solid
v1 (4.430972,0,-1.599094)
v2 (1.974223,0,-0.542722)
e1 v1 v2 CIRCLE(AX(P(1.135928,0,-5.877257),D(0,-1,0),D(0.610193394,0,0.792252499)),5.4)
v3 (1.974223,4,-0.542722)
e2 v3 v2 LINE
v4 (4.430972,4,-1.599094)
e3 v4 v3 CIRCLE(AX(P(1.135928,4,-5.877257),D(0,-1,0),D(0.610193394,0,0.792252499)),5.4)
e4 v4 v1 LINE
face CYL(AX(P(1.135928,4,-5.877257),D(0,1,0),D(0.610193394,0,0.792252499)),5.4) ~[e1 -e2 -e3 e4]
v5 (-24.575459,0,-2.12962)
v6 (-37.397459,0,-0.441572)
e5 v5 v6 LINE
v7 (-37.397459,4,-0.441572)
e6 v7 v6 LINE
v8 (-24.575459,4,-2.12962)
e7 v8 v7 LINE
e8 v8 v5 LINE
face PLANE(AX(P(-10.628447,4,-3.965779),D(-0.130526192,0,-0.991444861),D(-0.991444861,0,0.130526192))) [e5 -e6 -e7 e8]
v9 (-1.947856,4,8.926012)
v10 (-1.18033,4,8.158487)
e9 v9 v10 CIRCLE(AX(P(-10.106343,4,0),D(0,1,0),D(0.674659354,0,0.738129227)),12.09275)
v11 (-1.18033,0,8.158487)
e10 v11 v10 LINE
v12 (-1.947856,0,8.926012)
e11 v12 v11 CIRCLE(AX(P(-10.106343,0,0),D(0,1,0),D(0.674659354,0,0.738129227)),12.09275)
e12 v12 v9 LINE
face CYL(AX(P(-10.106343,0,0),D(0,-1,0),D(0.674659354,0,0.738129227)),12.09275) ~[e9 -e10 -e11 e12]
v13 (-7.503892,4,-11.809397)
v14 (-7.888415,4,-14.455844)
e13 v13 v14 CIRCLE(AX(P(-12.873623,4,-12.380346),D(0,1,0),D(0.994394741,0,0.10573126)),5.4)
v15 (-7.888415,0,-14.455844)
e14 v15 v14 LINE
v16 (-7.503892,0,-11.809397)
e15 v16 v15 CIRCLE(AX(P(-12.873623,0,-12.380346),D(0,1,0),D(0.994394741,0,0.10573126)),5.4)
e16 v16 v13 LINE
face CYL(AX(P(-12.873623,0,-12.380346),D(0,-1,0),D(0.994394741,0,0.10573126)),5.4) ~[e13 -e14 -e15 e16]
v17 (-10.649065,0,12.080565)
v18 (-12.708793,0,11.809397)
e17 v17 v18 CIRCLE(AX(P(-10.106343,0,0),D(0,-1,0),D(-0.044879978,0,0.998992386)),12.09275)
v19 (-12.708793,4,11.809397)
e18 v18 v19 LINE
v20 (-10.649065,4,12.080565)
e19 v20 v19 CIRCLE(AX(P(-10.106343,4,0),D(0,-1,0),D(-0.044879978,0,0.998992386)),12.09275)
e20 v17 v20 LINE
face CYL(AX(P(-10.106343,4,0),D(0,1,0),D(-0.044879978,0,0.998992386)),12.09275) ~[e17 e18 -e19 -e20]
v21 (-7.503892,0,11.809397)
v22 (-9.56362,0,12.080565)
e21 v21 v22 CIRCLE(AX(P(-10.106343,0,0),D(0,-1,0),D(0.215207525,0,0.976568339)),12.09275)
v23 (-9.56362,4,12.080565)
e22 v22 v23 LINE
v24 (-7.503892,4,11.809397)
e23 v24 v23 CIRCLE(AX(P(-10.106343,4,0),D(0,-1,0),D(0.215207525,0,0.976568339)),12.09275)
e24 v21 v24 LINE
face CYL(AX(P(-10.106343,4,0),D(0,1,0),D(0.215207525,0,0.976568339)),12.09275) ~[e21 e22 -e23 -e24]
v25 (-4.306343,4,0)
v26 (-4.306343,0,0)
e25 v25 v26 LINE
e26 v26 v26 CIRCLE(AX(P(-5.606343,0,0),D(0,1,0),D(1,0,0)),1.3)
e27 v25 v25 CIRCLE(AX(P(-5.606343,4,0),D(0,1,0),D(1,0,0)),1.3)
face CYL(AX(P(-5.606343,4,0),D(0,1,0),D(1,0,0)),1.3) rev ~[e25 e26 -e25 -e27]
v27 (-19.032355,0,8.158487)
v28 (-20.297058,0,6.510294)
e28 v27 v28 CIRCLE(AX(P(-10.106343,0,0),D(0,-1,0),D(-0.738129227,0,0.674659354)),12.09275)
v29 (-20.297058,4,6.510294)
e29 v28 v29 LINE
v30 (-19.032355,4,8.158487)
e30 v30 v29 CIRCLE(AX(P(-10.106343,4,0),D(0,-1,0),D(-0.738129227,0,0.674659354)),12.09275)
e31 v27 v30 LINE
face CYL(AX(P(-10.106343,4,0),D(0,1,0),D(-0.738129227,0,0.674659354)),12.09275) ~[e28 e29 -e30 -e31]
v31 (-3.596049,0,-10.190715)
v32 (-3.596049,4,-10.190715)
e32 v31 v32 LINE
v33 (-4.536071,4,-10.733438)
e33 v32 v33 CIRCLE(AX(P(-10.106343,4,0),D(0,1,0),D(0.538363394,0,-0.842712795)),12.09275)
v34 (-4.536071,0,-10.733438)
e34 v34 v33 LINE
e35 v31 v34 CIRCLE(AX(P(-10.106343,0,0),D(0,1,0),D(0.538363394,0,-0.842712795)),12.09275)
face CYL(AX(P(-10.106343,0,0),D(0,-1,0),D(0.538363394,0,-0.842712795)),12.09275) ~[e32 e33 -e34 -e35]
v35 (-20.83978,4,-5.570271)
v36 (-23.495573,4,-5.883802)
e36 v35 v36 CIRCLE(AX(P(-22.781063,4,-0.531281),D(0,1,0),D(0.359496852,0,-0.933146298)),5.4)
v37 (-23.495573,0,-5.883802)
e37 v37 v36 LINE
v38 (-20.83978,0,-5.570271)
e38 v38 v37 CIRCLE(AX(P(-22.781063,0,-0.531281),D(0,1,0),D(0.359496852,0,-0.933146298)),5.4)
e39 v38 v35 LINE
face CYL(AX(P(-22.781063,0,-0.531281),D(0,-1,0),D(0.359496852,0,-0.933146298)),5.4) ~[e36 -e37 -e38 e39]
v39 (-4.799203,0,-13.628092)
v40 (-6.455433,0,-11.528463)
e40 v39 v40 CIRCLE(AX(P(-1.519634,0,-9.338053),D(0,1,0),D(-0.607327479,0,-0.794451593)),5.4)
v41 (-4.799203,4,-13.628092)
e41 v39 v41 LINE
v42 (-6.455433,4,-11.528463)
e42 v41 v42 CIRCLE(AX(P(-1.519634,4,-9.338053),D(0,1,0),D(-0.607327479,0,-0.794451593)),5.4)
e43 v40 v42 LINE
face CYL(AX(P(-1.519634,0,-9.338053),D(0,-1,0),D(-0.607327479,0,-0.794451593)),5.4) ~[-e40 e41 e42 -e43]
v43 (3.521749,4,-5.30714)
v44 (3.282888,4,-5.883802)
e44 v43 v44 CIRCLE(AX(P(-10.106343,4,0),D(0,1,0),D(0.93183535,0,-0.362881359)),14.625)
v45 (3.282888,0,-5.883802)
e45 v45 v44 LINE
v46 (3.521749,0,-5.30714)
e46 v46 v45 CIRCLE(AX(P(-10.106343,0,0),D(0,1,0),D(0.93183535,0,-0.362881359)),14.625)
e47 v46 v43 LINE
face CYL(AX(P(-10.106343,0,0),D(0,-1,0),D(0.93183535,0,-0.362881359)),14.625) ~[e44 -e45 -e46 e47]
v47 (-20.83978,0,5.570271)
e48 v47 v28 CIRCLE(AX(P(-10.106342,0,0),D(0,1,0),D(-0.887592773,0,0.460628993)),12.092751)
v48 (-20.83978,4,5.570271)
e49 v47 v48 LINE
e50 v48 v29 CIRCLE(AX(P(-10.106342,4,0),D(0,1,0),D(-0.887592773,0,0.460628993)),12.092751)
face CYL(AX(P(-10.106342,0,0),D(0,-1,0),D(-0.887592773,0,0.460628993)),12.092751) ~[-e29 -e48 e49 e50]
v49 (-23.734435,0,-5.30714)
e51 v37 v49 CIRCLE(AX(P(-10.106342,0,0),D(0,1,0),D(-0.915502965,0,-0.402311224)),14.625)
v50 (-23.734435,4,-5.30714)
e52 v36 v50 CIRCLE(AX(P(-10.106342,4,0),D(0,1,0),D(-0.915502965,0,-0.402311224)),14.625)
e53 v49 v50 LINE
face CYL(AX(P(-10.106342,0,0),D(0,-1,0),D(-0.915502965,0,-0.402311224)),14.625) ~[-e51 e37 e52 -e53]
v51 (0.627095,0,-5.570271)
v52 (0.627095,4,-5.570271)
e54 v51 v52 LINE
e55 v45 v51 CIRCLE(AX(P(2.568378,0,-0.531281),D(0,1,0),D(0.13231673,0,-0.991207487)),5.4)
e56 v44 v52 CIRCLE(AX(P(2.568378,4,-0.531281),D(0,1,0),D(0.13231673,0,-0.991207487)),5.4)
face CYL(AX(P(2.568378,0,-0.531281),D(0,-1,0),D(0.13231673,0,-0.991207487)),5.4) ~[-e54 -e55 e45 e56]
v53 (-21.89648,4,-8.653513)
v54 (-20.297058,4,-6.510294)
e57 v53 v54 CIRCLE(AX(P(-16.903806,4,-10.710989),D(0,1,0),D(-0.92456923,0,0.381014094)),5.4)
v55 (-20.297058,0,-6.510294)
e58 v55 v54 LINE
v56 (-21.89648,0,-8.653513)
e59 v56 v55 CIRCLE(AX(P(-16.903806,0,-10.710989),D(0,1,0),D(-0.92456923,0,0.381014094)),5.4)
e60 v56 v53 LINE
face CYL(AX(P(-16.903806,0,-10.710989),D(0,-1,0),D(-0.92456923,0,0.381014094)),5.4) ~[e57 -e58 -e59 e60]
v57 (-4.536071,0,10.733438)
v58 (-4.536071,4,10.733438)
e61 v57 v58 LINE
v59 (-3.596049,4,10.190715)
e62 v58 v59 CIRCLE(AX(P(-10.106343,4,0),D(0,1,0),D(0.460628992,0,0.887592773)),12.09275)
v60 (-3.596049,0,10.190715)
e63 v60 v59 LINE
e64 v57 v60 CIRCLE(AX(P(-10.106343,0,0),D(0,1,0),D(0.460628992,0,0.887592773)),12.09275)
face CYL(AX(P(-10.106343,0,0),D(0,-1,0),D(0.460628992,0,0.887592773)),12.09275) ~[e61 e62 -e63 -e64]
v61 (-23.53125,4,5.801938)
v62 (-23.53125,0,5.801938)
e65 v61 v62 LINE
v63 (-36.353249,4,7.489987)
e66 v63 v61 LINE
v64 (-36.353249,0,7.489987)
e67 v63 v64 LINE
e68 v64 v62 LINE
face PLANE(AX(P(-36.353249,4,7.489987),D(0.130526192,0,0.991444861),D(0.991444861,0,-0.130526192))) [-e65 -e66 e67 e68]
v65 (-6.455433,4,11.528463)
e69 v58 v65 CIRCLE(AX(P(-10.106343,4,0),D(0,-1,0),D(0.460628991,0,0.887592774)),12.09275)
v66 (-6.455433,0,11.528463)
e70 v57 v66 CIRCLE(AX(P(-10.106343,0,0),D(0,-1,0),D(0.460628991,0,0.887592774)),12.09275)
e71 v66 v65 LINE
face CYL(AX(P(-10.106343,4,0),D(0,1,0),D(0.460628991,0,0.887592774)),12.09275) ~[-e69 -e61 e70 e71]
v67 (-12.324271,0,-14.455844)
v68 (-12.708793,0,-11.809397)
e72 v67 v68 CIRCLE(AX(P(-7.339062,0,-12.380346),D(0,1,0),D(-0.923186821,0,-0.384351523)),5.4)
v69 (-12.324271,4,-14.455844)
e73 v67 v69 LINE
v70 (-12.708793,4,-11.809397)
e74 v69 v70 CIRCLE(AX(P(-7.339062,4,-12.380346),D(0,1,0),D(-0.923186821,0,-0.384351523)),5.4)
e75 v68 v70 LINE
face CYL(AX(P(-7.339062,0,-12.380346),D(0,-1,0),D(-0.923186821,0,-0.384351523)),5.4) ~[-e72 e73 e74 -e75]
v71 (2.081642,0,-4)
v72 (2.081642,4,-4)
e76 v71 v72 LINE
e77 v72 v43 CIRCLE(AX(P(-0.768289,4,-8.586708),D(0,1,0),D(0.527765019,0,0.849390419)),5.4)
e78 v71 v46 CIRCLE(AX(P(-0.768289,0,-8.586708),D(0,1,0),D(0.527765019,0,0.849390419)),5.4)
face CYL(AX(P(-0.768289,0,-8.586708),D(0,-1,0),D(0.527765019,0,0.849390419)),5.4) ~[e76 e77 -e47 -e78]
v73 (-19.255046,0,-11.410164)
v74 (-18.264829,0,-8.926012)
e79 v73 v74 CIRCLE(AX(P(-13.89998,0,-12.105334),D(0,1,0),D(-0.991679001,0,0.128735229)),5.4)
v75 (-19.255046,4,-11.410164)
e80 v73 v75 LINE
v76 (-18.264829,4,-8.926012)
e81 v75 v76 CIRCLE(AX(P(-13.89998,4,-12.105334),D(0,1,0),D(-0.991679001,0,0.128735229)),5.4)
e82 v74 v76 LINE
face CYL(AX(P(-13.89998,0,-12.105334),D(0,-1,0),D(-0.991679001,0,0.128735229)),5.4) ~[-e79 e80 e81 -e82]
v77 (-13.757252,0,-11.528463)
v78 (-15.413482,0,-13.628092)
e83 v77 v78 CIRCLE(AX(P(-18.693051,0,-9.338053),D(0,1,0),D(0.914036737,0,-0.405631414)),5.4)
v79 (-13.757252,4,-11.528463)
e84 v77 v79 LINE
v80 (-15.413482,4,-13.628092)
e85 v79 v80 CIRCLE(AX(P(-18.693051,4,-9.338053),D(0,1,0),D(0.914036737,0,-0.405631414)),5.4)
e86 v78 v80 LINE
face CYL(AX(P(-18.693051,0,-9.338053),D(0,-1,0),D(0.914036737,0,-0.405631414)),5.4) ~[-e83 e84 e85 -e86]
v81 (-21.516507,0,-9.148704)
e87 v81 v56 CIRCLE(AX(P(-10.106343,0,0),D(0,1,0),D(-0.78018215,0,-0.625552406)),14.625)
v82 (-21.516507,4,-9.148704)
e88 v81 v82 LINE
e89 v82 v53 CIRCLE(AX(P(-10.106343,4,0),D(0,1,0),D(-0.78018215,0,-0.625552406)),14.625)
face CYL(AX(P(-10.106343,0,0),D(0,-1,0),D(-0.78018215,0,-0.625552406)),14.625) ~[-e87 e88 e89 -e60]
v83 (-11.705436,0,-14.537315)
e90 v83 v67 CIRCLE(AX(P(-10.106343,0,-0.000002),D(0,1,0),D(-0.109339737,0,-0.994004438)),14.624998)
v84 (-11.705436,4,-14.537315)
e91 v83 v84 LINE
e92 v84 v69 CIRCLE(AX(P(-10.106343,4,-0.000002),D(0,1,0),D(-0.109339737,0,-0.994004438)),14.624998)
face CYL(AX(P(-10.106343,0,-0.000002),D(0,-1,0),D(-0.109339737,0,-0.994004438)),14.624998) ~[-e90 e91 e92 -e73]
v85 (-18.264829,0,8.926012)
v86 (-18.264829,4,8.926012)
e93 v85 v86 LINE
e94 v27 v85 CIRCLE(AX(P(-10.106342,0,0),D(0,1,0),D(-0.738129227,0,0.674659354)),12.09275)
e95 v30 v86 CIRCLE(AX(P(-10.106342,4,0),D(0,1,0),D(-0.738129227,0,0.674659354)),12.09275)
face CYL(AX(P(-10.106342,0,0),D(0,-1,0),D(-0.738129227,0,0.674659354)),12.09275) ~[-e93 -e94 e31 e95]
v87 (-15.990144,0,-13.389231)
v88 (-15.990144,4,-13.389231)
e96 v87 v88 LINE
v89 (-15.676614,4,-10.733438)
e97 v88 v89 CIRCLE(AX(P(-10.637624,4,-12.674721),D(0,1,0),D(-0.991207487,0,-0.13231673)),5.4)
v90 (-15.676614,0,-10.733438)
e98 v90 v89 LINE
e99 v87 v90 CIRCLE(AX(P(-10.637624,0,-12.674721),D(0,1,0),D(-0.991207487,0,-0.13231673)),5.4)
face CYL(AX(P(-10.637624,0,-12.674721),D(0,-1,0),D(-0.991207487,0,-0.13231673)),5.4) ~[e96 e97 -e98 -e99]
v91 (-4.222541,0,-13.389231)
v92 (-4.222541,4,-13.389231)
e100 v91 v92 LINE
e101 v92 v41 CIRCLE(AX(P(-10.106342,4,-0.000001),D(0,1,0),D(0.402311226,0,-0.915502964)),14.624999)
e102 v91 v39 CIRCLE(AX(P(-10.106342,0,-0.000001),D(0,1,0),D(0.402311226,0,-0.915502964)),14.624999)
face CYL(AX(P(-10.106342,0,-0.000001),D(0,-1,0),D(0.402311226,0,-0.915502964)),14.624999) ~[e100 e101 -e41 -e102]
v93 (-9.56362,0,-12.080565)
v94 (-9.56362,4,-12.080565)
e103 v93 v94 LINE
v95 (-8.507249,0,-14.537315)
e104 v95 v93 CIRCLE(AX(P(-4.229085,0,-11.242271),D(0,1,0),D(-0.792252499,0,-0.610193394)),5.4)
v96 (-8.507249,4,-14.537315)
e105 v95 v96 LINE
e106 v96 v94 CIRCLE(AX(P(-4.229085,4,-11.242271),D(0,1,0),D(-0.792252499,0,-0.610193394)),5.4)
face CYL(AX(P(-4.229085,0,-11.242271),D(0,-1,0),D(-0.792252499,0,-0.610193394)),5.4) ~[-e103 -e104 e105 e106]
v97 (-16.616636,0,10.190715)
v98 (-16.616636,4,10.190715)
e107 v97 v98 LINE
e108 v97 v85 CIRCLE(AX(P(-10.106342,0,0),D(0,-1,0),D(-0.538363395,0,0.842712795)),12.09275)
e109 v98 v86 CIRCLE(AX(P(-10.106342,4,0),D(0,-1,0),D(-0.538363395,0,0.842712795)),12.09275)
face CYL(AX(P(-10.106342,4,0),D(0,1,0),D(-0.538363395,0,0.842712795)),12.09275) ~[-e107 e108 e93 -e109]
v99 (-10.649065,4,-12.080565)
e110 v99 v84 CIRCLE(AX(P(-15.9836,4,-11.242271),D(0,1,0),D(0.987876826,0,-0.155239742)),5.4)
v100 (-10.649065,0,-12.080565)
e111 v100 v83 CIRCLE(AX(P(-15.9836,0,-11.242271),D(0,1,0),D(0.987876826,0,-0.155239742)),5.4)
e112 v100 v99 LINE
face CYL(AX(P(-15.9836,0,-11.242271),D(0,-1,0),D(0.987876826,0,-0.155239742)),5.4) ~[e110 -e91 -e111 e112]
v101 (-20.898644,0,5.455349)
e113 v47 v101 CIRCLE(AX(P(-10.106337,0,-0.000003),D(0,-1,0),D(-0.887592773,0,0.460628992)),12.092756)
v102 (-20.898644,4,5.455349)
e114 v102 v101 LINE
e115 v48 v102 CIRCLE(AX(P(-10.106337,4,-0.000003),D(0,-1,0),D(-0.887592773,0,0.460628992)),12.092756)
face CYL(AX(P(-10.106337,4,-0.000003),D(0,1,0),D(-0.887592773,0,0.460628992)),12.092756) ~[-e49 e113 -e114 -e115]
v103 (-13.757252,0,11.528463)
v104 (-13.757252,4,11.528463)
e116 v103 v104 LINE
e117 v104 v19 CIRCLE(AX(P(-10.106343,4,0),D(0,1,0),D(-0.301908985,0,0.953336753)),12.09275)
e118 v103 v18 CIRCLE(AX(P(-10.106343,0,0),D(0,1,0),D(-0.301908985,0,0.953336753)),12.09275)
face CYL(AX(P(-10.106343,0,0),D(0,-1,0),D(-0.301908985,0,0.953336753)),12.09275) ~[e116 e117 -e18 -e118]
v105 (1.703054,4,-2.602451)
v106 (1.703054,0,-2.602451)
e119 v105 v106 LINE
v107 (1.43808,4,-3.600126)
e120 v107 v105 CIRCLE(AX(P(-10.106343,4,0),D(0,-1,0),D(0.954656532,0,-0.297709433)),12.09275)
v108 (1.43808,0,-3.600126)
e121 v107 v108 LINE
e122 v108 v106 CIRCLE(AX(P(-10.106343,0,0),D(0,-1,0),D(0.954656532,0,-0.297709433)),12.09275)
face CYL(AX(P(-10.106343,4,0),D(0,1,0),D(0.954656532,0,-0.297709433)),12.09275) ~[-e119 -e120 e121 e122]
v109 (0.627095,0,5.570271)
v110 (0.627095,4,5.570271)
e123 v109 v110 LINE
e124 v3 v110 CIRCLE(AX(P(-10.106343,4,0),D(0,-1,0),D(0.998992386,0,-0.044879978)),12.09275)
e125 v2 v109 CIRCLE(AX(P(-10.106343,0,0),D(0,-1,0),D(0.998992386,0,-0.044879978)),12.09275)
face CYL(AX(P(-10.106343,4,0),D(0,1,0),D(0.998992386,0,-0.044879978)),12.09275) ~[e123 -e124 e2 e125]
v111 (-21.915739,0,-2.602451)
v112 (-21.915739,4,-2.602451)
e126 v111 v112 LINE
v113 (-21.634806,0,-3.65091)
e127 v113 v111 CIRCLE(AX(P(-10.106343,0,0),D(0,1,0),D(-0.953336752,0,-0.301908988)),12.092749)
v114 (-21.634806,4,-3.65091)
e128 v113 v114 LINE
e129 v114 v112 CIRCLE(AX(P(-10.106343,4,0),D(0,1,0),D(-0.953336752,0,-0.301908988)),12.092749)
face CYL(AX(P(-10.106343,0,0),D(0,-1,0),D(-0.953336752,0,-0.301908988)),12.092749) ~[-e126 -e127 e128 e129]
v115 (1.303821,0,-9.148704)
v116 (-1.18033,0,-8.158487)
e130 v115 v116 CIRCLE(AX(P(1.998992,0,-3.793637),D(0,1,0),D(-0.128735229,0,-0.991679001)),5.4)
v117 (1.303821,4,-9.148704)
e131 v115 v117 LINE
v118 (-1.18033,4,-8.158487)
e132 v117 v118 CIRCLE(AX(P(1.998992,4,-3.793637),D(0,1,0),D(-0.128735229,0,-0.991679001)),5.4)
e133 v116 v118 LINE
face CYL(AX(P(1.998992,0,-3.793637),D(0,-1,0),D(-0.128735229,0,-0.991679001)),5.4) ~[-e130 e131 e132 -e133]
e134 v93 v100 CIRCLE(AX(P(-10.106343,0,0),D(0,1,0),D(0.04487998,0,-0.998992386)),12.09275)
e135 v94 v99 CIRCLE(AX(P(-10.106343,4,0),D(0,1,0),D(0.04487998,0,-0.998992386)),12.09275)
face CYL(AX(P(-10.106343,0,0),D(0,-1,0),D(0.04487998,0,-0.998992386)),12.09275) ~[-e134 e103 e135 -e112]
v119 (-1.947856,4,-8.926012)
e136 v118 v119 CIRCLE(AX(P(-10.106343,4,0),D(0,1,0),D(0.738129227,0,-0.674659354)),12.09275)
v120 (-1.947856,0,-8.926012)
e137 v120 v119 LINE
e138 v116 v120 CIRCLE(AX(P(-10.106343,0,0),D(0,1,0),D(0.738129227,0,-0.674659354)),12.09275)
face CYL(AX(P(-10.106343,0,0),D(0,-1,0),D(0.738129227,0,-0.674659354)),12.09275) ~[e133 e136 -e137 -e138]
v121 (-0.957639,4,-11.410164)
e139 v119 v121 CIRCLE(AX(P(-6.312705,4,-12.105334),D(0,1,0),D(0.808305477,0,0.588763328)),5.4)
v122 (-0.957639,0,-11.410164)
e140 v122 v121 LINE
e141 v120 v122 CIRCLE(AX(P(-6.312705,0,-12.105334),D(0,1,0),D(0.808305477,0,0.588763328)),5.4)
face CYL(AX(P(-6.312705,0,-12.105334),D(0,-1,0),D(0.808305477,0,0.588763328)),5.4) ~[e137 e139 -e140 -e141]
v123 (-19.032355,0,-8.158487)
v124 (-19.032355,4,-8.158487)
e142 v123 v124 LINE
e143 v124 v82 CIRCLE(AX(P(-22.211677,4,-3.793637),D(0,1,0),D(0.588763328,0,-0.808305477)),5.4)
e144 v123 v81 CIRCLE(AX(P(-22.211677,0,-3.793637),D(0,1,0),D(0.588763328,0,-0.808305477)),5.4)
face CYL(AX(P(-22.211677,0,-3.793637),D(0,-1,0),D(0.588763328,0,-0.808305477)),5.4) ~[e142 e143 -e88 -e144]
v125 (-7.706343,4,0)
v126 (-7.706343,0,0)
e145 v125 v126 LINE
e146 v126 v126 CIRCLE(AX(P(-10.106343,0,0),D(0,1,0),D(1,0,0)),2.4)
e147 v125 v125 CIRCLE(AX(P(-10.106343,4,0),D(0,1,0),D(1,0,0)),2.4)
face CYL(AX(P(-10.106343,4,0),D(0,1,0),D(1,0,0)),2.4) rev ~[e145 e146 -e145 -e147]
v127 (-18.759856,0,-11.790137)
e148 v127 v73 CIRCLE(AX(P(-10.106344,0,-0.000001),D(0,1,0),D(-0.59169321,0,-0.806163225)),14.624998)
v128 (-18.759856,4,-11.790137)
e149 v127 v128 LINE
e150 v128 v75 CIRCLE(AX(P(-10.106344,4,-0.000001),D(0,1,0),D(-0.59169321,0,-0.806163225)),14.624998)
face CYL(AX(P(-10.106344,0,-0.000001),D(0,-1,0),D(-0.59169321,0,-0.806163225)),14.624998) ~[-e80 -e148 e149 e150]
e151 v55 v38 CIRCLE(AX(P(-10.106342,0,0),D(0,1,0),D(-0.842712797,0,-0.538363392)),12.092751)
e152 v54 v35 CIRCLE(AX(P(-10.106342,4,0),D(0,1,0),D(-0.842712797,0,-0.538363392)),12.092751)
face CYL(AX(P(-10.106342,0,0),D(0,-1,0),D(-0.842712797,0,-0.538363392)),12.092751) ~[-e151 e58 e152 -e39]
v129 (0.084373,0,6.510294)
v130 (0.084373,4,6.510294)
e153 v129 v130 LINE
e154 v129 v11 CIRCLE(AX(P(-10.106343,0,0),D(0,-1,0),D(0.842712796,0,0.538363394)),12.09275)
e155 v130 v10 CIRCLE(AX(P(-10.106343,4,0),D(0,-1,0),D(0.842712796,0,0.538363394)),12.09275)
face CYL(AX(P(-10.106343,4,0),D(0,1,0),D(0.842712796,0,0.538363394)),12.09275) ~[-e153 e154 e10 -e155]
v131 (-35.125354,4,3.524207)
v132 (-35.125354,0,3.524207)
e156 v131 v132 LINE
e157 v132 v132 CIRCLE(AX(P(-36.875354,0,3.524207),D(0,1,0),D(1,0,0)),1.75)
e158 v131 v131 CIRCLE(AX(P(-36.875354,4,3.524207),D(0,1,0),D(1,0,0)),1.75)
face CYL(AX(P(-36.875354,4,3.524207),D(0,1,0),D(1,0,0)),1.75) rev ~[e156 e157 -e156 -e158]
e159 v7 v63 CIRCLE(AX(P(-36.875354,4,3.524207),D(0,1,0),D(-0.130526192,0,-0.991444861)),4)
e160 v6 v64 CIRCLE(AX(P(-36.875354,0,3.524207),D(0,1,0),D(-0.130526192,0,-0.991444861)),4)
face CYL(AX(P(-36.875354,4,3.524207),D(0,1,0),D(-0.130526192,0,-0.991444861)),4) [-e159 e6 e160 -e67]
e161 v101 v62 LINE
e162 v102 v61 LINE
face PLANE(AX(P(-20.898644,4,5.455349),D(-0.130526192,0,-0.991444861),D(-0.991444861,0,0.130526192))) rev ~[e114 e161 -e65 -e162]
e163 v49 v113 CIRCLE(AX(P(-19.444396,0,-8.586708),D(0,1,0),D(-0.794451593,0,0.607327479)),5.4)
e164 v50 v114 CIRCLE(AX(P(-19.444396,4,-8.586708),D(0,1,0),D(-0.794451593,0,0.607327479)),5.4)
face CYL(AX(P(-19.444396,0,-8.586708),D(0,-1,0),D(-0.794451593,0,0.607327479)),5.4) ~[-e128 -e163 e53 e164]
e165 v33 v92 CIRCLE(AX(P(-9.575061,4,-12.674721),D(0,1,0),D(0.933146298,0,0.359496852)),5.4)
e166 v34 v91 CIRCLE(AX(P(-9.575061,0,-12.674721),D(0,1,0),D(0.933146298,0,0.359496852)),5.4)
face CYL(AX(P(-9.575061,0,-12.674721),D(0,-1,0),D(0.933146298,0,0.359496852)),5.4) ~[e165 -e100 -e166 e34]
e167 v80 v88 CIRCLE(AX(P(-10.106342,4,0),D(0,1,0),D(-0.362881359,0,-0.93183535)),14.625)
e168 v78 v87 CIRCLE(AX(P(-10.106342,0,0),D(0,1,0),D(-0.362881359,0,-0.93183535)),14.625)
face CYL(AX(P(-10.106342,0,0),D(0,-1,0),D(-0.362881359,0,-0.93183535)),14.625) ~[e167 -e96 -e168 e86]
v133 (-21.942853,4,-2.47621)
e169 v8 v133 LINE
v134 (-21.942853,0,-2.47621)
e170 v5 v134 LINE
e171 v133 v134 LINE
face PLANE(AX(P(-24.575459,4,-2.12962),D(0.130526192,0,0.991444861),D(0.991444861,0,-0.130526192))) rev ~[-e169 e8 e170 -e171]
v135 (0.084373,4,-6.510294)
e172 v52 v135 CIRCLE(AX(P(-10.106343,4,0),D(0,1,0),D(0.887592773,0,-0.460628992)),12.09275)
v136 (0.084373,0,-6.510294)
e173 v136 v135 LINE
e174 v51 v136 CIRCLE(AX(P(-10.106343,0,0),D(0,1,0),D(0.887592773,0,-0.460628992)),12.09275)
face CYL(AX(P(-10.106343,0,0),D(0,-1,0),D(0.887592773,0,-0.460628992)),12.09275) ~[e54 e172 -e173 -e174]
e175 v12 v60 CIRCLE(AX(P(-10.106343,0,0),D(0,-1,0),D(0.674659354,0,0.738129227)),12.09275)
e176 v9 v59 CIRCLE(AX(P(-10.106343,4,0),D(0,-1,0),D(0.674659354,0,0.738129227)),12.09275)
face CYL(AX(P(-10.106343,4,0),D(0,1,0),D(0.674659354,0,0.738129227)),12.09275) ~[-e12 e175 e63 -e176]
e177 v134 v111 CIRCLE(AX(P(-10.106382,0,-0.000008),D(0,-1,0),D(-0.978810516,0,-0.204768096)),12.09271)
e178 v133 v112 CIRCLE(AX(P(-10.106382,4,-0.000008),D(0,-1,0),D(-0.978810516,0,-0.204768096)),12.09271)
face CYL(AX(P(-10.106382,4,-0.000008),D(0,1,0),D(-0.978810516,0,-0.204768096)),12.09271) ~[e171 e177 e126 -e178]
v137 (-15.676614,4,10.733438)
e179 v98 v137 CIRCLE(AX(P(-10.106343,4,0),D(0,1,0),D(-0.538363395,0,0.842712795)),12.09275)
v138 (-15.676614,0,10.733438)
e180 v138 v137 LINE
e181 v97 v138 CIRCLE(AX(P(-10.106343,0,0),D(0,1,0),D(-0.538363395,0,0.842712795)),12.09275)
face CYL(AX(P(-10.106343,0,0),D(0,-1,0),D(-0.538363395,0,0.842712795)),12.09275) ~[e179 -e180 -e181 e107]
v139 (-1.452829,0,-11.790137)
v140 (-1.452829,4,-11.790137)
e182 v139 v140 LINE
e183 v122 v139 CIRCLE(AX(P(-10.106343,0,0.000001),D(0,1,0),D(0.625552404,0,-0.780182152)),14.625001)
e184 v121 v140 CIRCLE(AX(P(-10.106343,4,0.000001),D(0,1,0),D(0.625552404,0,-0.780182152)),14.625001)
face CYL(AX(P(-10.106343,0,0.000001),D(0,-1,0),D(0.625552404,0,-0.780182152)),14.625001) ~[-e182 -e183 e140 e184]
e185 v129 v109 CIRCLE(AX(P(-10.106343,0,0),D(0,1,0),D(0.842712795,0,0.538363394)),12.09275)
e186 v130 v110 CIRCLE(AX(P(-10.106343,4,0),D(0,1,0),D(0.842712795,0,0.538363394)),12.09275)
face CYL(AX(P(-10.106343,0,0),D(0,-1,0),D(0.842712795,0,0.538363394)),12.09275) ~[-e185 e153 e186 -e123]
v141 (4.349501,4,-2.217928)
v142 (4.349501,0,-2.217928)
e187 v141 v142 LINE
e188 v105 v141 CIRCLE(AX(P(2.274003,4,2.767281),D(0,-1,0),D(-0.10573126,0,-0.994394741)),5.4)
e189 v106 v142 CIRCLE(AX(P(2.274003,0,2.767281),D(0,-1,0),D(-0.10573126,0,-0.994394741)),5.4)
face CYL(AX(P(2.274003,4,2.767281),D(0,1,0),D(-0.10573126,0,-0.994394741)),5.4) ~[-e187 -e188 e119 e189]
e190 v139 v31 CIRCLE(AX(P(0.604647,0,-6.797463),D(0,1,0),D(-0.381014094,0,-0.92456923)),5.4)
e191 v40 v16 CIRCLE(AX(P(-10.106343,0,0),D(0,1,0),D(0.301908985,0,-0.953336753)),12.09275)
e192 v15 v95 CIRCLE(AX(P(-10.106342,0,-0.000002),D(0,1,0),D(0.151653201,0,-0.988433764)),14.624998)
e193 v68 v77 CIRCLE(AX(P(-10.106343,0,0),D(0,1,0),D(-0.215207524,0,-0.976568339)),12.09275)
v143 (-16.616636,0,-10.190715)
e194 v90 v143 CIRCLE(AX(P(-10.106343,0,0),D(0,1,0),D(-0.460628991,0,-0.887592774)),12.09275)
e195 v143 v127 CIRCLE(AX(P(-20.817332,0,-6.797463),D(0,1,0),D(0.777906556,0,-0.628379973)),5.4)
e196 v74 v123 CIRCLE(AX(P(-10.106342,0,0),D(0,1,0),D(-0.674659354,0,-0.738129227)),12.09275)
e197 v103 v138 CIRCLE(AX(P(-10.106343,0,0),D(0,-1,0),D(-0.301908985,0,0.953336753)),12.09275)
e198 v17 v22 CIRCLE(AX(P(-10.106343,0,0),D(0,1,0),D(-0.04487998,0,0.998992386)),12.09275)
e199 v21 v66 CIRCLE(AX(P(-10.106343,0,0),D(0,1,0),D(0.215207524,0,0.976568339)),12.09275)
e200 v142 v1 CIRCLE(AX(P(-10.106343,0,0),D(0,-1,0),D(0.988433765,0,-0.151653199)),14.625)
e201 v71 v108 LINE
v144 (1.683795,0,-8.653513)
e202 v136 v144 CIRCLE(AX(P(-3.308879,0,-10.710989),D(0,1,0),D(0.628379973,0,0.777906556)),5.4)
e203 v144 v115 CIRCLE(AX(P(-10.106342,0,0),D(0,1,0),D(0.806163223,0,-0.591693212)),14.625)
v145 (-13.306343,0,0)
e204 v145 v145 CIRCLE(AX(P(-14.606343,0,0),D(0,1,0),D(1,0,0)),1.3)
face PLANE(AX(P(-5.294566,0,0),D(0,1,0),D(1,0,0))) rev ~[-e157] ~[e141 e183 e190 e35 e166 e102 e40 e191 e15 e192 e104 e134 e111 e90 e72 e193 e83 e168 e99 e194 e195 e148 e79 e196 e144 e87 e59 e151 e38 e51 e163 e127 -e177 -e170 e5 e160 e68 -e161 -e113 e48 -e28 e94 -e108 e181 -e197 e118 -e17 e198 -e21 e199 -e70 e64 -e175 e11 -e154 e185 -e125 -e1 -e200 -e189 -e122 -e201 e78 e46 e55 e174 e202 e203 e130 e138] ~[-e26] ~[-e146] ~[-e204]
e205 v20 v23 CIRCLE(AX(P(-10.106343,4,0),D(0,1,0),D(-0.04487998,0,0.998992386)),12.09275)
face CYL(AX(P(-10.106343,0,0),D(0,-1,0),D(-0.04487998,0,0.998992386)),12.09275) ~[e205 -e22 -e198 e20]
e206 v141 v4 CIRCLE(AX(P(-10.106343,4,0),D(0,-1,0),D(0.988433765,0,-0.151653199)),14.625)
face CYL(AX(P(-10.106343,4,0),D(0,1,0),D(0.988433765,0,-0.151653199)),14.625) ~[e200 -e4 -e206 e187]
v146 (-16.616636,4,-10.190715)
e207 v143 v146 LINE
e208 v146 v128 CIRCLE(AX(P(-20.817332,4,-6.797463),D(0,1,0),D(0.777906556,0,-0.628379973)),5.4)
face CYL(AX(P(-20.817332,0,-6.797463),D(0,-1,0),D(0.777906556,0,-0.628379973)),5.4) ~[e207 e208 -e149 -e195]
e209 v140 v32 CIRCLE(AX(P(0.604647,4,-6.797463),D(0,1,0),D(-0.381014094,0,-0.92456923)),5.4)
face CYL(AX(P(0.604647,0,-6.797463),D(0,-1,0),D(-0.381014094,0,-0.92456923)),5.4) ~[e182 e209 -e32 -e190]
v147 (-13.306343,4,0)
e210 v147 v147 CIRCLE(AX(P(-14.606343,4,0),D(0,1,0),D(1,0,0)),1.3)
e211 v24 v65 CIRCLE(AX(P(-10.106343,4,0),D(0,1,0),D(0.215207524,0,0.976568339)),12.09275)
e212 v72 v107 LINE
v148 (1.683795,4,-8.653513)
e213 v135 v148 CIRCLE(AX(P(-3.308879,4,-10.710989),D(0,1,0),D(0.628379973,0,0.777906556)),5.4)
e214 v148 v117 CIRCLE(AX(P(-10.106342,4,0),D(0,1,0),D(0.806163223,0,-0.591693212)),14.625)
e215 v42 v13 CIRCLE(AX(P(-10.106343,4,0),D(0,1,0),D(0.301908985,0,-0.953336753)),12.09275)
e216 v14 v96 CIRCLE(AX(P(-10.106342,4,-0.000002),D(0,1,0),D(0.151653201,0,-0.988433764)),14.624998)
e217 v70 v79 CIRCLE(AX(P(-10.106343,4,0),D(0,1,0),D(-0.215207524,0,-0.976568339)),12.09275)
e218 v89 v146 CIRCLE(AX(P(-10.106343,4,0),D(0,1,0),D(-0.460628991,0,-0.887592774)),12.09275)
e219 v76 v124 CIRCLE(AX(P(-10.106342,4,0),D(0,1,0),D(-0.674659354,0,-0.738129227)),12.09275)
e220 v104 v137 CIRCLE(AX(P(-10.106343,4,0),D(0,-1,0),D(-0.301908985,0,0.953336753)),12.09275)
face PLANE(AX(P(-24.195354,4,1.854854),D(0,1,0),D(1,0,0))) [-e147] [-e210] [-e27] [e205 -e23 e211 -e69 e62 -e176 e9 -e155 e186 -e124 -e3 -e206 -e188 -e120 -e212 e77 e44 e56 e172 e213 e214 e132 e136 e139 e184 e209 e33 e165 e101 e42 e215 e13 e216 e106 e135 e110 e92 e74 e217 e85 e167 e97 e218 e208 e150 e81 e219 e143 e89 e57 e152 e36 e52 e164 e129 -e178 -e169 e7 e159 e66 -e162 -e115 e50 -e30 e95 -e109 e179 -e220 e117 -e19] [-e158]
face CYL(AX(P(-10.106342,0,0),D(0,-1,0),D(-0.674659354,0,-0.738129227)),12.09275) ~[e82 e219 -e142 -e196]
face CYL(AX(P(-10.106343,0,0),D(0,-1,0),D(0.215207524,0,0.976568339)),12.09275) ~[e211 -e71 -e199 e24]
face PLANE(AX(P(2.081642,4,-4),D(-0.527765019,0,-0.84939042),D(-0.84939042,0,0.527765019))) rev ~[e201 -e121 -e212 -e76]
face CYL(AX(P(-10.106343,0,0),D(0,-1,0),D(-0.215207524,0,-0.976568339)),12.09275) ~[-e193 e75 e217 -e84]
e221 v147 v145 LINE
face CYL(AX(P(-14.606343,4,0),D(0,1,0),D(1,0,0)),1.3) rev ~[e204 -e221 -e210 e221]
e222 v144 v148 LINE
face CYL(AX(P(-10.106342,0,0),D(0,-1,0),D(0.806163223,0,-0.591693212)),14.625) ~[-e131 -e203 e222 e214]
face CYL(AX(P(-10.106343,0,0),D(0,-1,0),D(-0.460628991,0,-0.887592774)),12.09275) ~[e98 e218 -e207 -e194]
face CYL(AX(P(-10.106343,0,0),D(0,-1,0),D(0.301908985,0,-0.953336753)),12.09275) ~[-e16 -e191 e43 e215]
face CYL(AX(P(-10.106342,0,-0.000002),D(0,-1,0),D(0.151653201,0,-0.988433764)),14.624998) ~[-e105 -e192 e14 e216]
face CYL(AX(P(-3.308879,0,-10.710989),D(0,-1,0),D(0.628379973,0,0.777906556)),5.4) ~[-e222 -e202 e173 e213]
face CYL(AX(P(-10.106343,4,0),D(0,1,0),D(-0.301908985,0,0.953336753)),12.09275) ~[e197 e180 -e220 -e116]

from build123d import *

# Parameters (mm, degrees)
SKETCH1_R           = 1.5
BOSS_EXTRUDE1_DEPTH = 4
SKETCH3_R           = 1.75
BOSS_EXTRUDE2_DEPTH = 4
CUT_EXTRUDE1_DEPTH  = 4
CUT_EXTRUDE2_REACH  = 6
SKETCH5_R           = 1.3
SKETCH5_R_2         = 2.4


with BuildPart() as part:
    # Sketch1 → Boss-Extrude1 (new body)
    with BuildSketch(Plane(origin=(0, 0, 0), x_dir=(1, 0, 0), z_dir=(0, 1, 0))):
        with BuildLine():
            Line((20.643657446, 4), (2.081641936, 4))
            ThreePointArc((2.081641936, 4), (2.861028333, 4.588201733), (3.521749436, 5.30713988))
            ThreePointArc((3.521749436, 5.30713988), (3.405395609, 5.596745198), (3.282888305, 5.883801663))
            ThreePointArc((3.282888305, 5.883801663), (1.93527598, 5.894040025), (0.627094961, 5.57027124))
            ThreePointArc((0.627094961, 5.57027124), (0.366286148, 6.046375), (0.084372603, 6.510293938))
            ThreePointArc((0.084372603, 6.510293938), (1.018855105, 7.48132754), (1.683794586, 8.65351323))
            ThreePointArc((1.683794586, 8.65351323), (1.496450048, 8.903135899), (1.303821399, 9.148703928))
            ThreePointArc((1.303821399, 9.148703928), (-0.000522033, 8.809805691), (-1.180330337, 8.158486898))
            ThreePointArc((-1.180330337, 8.158486898), (-1.555477026, 8.550865528), (-1.947855656, 8.926012217))
            ThreePointArc((-1.947855656, 8.926012217), (-1.296536862, 10.105820521), (-0.957638625, 11.410163953))
            ThreePointArc((-0.957638625, 11.410163953), (-1.203206655, 11.602792602), (-1.452829324, 11.79013714))
            ThreePointArc((-1.452829324, 11.79013714), (-2.625015014, 11.125197659), (-3.596048616, 10.190715157))
            ThreePointArc((-3.596048616, 10.190715157), (-4.059967554, 10.472628702), (-4.536071314, 10.733437515))
            ThreePointArc((-4.536071314, 10.733437515), (-4.212302529, 12.041618533), (-4.222540891, 13.389230859))
            ThreePointArc((-4.222540891, 13.389230859), (-4.509597355, 13.511738163), (-4.799202674, 13.62809199))
            ThreePointArc((-4.799202674, 13.62809199), (-5.759348103, 12.682425791), (-6.455432668, 11.528463019))
            ThreePointArc((-6.455432668, 11.528463019), (-6.976508546, 11.680699536), (-7.503891752, 11.809396783))
            ThreePointArc((-7.503891752, 11.809396783), (-7.529737283, 13.156800143), (-7.888414517, 14.455843809))
            ThreePointArc((-7.888414517, 14.455843809), (-8.197396993, 14.499881098), (-8.507248835, 14.537314892))
            ThreePointArc((-8.507248835, 14.537314892), (-9.18992168, 13.375367565), (-9.563620196, 12.080565177))
            ThreePointArc((-9.563620196, 12.080565177), (-10.106342554, 12.09275), (-10.649064912, 12.080565177))
            ThreePointArc((-10.649064912, 12.080565177), (-11.022763428, 13.375367565), (-11.705436272, 14.537314892))
            ThreePointArc((-11.705436272, 14.537314892), (-12.015288115, 14.499881098), (-12.324270591, 14.455843809))
            ThreePointArc((-12.324270591, 14.455843809), (-12.682947825, 13.156800143), (-12.708793355, 11.809396783))
            ThreePointArc((-12.708793355, 11.809396783), (-13.236176561, 11.680699536), (-13.757252439, 11.528463019))
            ThreePointArc((-13.757252439, 11.528463019), (-14.453337005, 12.682425791), (-15.413482434, 13.62809199))
            ThreePointArc((-15.413482434, 13.62809199), (-15.703087752, 13.511738163), (-15.990144217, 13.389230859))
            ThreePointArc((-15.990144217, 13.389230859), (-16.000382579, 12.041618533), (-15.676613793, 10.733437515))
            ThreePointArc((-15.676613793, 10.733437515), (-16.152717554, 10.472628702), (-16.616636492, 10.190715157))
            ThreePointArc((-16.616636492, 10.190715157), (-17.587670094, 11.125197659), (-18.759855783, 11.79013714))
            ThreePointArc((-18.759855783, 11.79013714), (-19.009478453, 11.602792602), (-19.255046482, 11.410163953))
            ThreePointArc((-19.255046482, 11.410163953), (-18.916148245, 10.105820521), (-18.264829452, 8.926012217))
            ThreePointArc((-18.264829452, 8.926012217), (-18.657208082, 8.550865528), (-19.032354771, 8.158486898))
            ThreePointArc((-19.032354771, 8.158486898), (-20.212163074, 8.809805691), (-21.516506507, 9.148703928))
            ThreePointArc((-21.516506507, 9.148703928), (-21.709135156, 8.903135899), (-21.896479694, 8.65351323))
            ThreePointArc((-21.896479694, 8.65351323), (-21.231540213, 7.48132754), (-20.297057711, 6.510293938))
            ThreePointArc((-20.297057711, 6.510293938), (-20.578971255, 6.046375), (-20.839780068, 5.57027124))
            ThreePointArc((-20.839780068, 5.57027124), (-22.147961087, 5.894040025), (-23.495573413, 5.883801663))
            ThreePointArc((-23.495573413, 5.883801663), (-23.618080717, 5.596745198), (-23.734434544, 5.30713988))
            ThreePointArc((-23.734434544, 5.30713988), (-22.788768345, 4.346994451), (-21.634805572, 3.650909885))
            ThreePointArc((-21.634805572, 3.650909885), (-21.78704209, 3.129834008), (-21.915739337, 2.602450802))
            ThreePointArc((-21.915739337, 2.602450802), (-23.263142697, 2.576605271), (-24.562186363, 2.217928037))
            ThreePointArc((-24.562186363, 2.217928037), (-24.606223651, 1.908945561), (-24.643657446, 1.599093719))
            ThreePointArc((-24.643657446, 1.599093719), (-23.481710119, 0.916420874), (-22.186907731, 0.542722358))
            ThreePointArc((-22.186907731, 0.542722358), (-22.199092554, 0), (-22.186907731, -0.542722358))
            ThreePointArc((-22.186907731, -0.542722358), (-23.481710119, -0.916420874), (-24.643657446, -1.599093719))
            ThreePointArc((-24.643657446, -1.599093719), (-24.606223651, -1.908945561), (-24.562186363, -2.217928037))
            ThreePointArc((-24.562186363, -2.217928037), (-23.263142697, -2.576605271), (-21.915739337, -2.602450802))
            ThreePointArc((-21.915739337, -2.602450802), (-21.78704209, -3.129834008), (-21.634805572, -3.650909885))
            ThreePointArc((-21.634805572, -3.650909885), (-22.788768345, -4.346994451), (-23.734434544, -5.30713988))
            ThreePointArc((-23.734434544, -5.30713988), (-23.618080717, -5.596745198), (-23.495573413, -5.883801663))
            ThreePointArc((-23.495573413, -5.883801663), (-22.147961087, -5.894040025), (-20.839780068, -5.57027124))
            ThreePointArc((-20.839780068, -5.57027124), (-20.578971255, -6.046375), (-20.297057711, -6.510293938))
            ThreePointArc((-20.297057711, -6.510293938), (-21.231540213, -7.48132754), (-21.896479694, -8.65351323))
            ThreePointArc((-21.896479694, -8.65351323), (-21.709135156, -8.903135899), (-21.516506507, -9.148703928))
            ThreePointArc((-21.516506507, -9.148703928), (-20.212163074, -8.809805691), (-19.032354771, -8.158486898))
            ThreePointArc((-19.032354771, -8.158486898), (-18.657208082, -8.550865528), (-18.264829452, -8.926012217))
            ThreePointArc((-18.264829452, -8.926012217), (-18.916148245, -10.105820521), (-19.255046482, -11.410163953))
            ThreePointArc((-19.255046482, -11.410163953), (-19.009478453, -11.602792602), (-18.759855783, -11.79013714))
            ThreePointArc((-18.759855783, -11.79013714), (-17.587670094, -11.125197659), (-16.616636492, -10.190715157))
            ThreePointArc((-16.616636492, -10.190715157), (-16.152717554, -10.472628702), (-15.676613793, -10.733437515))
            ThreePointArc((-15.676613793, -10.733437515), (-16.000382579, -12.041618533), (-15.990144217, -13.389230859))
            ThreePointArc((-15.990144217, -13.389230859), (-15.703087752, -13.511738163), (-15.413482434, -13.62809199))
            ThreePointArc((-15.413482434, -13.62809199), (-14.453337005, -12.682425791), (-13.757252439, -11.528463019))
            ThreePointArc((-13.757252439, -11.528463019), (-13.236176561, -11.680699536), (-12.708793355, -11.809396783))
            ThreePointArc((-12.708793355, -11.809396783), (-12.682947825, -13.156800143), (-12.324270591, -14.455843809))
            ThreePointArc((-12.324270591, -14.455843809), (-12.015288115, -14.499881098), (-11.705436272, -14.537314892))
            ThreePointArc((-11.705436272, -14.537314892), (-11.022763428, -13.375367565), (-10.649064912, -12.080565177))
            ThreePointArc((-10.649064912, -12.080565177), (-10.106342554, -12.09275), (-9.563620196, -12.080565177))
            ThreePointArc((-9.563620196, -12.080565177), (-9.18992168, -13.375367565), (-8.507248835, -14.537314892))
            ThreePointArc((-8.507248835, -14.537314892), (-8.197396993, -14.499881098), (-7.888414517, -14.455843809))
            ThreePointArc((-7.888414517, -14.455843809), (-7.529737283, -13.156800143), (-7.503891752, -11.809396783))
            ThreePointArc((-7.503891752, -11.809396783), (-6.976508546, -11.680699536), (-6.455432668, -11.528463019))
            ThreePointArc((-6.455432668, -11.528463019), (-5.759348103, -12.682425791), (-4.799202674, -13.62809199))
            ThreePointArc((-4.799202674, -13.62809199), (-4.509597355, -13.511738163), (-4.222540891, -13.389230859))
            ThreePointArc((-4.222540891, -13.389230859), (-4.212302529, -12.041618533), (-4.536071314, -10.733437515))
            ThreePointArc((-4.536071314, -10.733437515), (-4.059967554, -10.472628702), (-3.596048616, -10.190715157))
            ThreePointArc((-3.596048616, -10.190715157), (-2.625015014, -11.125197659), (-1.452829324, -11.79013714))
            ThreePointArc((-1.452829324, -11.79013714), (-1.203206655, -11.602792602), (-0.957638625, -11.410163953))
            ThreePointArc((-0.957638625, -11.410163953), (-1.296536862, -10.105820521), (-1.947855656, -8.926012217))
            ThreePointArc((-1.947855656, -8.926012217), (-1.555477026, -8.550865528), (-1.180330337, -8.158486898))
            ThreePointArc((-1.180330337, -8.158486898), (-0.000522033, -8.809805691), (1.303821399, -9.148703928))
            ThreePointArc((1.303821399, -9.148703928), (1.496450048, -8.903135899), (1.683794586, -8.65351323))
            ThreePointArc((1.683794586, -8.65351323), (1.018855105, -7.48132754), (0.084372603, -6.510293938))
            ThreePointArc((0.084372603, -6.510293938), (0.366286148, -6.046375), (0.627094961, -5.57027124))
            ThreePointArc((0.627094961, -5.57027124), (1.93527598, -5.894040025), (3.282888305, -5.883801663))
            ThreePointArc((3.282888305, -5.883801663), (3.405395609, -5.596745198), (3.521749436, -5.30713988))
            ThreePointArc((3.521749436, -5.30713988), (2.861028333, -4.588201733), (2.081641936, -4))
            Line((2.081641936, -4), (20.643657446, -4))
            ThreePointArc((20.643657446, -4), (24.643657446, 0), (20.643657446, 4))
        make_face()
        with Locations((-10.106342554, 0)):
            Circle(SKETCH1_R, mode=Mode.SUBTRACT)
        with Locations((20.643657446, 0)):
            Circle(SKETCH1_R, mode=Mode.SUBTRACT)
    extrude(amount=BOSS_EXTRUDE1_DEPTH)

    # Sketch3 → Boss-Extrude2 (add)
    with BuildSketch(Plane(origin=(0, 4, 0), x_dir=(1, 0, 0), z_dir=(0, 1, 0))):
        with BuildLine():
            ThreePointArc((-9.584237785, -3.965779445), (-14.072121999, -0.522104769), (-10.628447323, 3.965779445))
            Line((-10.628447323, 3.965779445), (-37.39745858, 0.441572256))
            ThreePointArc((-37.39745858, 0.441572256), (-40.841133256, -4.046311959), (-36.353249042, -7.489986635))
            Line((-36.353249042, -7.489986635), (-9.584237785, -3.965779445))
        make_face()
        with Locations((-36.875353811, -3.52420719)):
            Circle(SKETCH3_R, mode=Mode.SUBTRACT)
    extrude(amount=-BOSS_EXTRUDE2_DEPTH)

    # Sketch4 → Cut-Extrude1 (cut)
    with BuildSketch(Plane(origin=(0, 4, 0), x_dir=(1, 0, 0), z_dir=(0, 1, 0))):
        with BuildLine():
            ThreePointArc((20.643657446, -4), (24.643657446, 0), (20.643657446, 4))
            Line((20.643657446, 4), (2.081641936, 4))
            Line((2.081641936, 4), (1.43808022, 3.600125745))
            ThreePointArc((1.43808022, 3.600125745), (1.581217534, 3.104116905), (1.70305423, 2.602450802))
            ThreePointArc((1.70305423, 2.602450802), (3.050457589, 2.576605271), (4.349501255, 2.217928037))
            ThreePointArc((4.349501255, 2.217928037), (4.393538544, 1.908945561), (4.430972339, 1.599093719))
            ThreePointArc((4.430972339, 1.599093719), (3.269025011, 0.916420874), (1.974222624, 0.542722358))
            ThreePointArc((1.974222624, 0.542722358), (1.70305423, -2.602450802), (0.627094961, -5.57027124))
            ThreePointArc((0.627094961, -5.57027124), (1.93527598, -5.894040025), (3.282888305, -5.883801663))
            ThreePointArc((3.282888305, -5.883801663), (3.405395609, -5.596745198), (3.521749436, -5.30713988))
            ThreePointArc((3.521749436, -5.30713988), (2.861028333, -4.588201733), (2.081641936, -4))
            Line((2.081641936, -4), (20.643657446, -4))
        make_face()
        with BuildLine():
            ThreePointArc((1.683794586, -8.65351323), (1.018855105, -7.48132754), (0.084372603, -6.510293938))
            ThreePointArc((0.084372603, -6.510293938), (-0.512518948, -7.361599771), (-1.180330337, -8.158486898))
            ThreePointArc((-1.180330337, -8.158486898), (-0.000522033, -8.809805691), (1.303821399, -9.148703928))
            ThreePointArc((1.303821399, -9.148703928), (1.496450048, -8.903135899), (1.683794586, -8.65351323))
        make_face()
        with BuildLine():
            ThreePointArc((-0.957638625, -11.410163953), (-1.296536862, -10.105820521), (-1.947855656, -8.926012217))
            ThreePointArc((-1.947855656, -8.926012217), (-2.744742783, -9.593823606), (-3.596048616, -10.190715157))
            ThreePointArc((-3.596048616, -10.190715157), (-2.625015014, -11.125197659), (-1.452829324, -11.79013714))
            ThreePointArc((-1.452829324, -11.79013714), (-1.203206655, -11.602792602), (-0.957638625, -11.410163953))
        make_face()
        with BuildLine():
            ThreePointArc((-4.222540891, -13.389230859), (-4.212302529, -12.041618533), (-4.536071314, -10.733437515))
            ThreePointArc((-4.536071314, -10.733437515), (-5.478647477, -11.172244217), (-6.455432668, -11.528463019))
            ThreePointArc((-6.455432668, -11.528463019), (-5.759348103, -12.682425791), (-4.799202674, -13.62809199))
            ThreePointArc((-4.799202674, -13.62809199), (-4.509597355, -13.511738163), (-4.222540891, -13.389230859))
        make_face()
        with BuildLine():
            ThreePointArc((-7.888414517, -14.455843809), (-7.529737283, -13.156800143), (-7.503891752, -11.809396783))
            ThreePointArc((-7.503891752, -11.809396783), (-8.527921943, -11.989294847), (-9.563620196, -12.080565177))
            ThreePointArc((-9.563620196, -12.080565177), (-9.18992168, -13.375367565), (-8.507248835, -14.537314892))
            ThreePointArc((-8.507248835, -14.537314892), (-8.197396993, -14.499881098), (-7.888414517, -14.455843809))
        make_face()
        with BuildLine():
            ThreePointArc((-11.705436272, -14.537314892), (-11.022763428, -13.375367565), (-10.649064912, -12.080565177))
            ThreePointArc((-10.649064912, -12.080565177), (-11.684763165, -11.989294847), (-12.708793355, -11.809396783))
            ThreePointArc((-12.708793355, -11.809396783), (-12.682947825, -13.156800143), (-12.324270591, -14.455843809))
            ThreePointArc((-12.324270591, -14.455843809), (-12.015288115, -14.499881098), (-11.705436272, -14.537314892))
        make_face()
        with BuildLine():
            ThreePointArc((-15.413482434, -13.62809199), (-14.453337005, -12.682425791), (-13.757252439, -11.528463019))
            ThreePointArc((-13.757252439, -11.528463019), (-14.734037631, -11.172244217), (-15.676613793, -10.733437515))
            ThreePointArc((-15.676613793, -10.733437515), (-16.000382579, -12.041618533), (-15.990144217, -13.389230859))
            ThreePointArc((-15.990144217, -13.389230859), (-15.703087752, -13.511738163), (-15.413482434, -13.62809199))
        make_face()
        with BuildLine():
            ThreePointArc((-18.759855783, -11.79013714), (-17.587670094, -11.125197659), (-16.616636492, -10.190715157))
            ThreePointArc((-16.616636492, -10.190715157), (-17.467942324, -9.593823606), (-18.264829452, -8.926012217))
            ThreePointArc((-18.264829452, -8.926012217), (-18.916148245, -10.105820521), (-19.255046482, -11.410163953))
            ThreePointArc((-19.255046482, -11.410163953), (-19.009478453, -11.602792602), (-18.759855783, -11.79013714))
        make_face()
        with BuildLine():
            ThreePointArc((-21.516506507, -9.148703928), (-20.212163074, -8.809805691), (-19.032354771, -8.158486898))
            ThreePointArc((-19.032354771, -8.158486898), (-19.70016616, -7.361599771), (-20.297057711, -6.510293938))
            ThreePointArc((-20.297057711, -6.510293938), (-21.231540213, -7.48132754), (-21.896479694, -8.65351323))
            ThreePointArc((-21.896479694, -8.65351323), (-21.709135156, -8.903135899), (-21.516506507, -9.148703928))
        make_face()
        with BuildLine():
            ThreePointArc((-21.942853375, 2.47620963), (-21.92946485, 2.539366405), (-21.915739337, 2.602450802))
            ThreePointArc((-21.915739337, 2.602450802), (-23.263142697, 2.576605271), (-24.562186363, 2.217928037))
            ThreePointArc((-24.562186363, 2.217928037), (-24.56889027, 2.173784387), (-24.575459377, 2.129620475))
            Line((-24.575459377, 2.129620475), (-21.942853375, 2.47620963))
        make_face()
        with BuildLine():
            ThreePointArc((-23.495573413, -5.883801663), (-22.147961087, -5.894040025), (-20.839780068, -5.57027124))
            ThreePointArc((-20.839780068, -5.57027124), (-20.869365339, -5.512888815), (-20.898643838, -5.455349261))
            Line((-20.898643838, -5.455349261), (-23.531249839, -5.801938416))
            ThreePointArc((-23.531249839, -5.801938416), (-23.513474108, -5.842897269), (-23.495573413, -5.883801663))
        make_face()
    extrude(amount=-CUT_EXTRUDE1_DEPTH, mode=Mode.SUBTRACT)

    # Sketch5 → Cut-Extrude2 (cut, up to next)
    with BuildSketch(Plane(origin=(0, 4, 0), x_dir=(1, 0, 0), z_dir=(0, 1, 0)), mode=Mode.PRIVATE) as cut_extrude2_sk1:
        with Locations((-14.606342554, 0)):
            Circle(SKETCH5_R)
    cut_extrude2_tool1 = extrude(cut_extrude2_sk1.sketch, amount=-CUT_EXTRUDE2_REACH, mode=Mode.PRIVATE) & part.part
    add(cut_extrude2_tool1.solids().sort_by_distance((-14.606343, 4, 0))[0], mode=Mode.SUBTRACT)
    # Sketch5 → Cut-Extrude2 (cut, up to next)
    with BuildSketch(Plane(origin=(0, 4, 0), x_dir=(1, 0, 0), z_dir=(0, 1, 0)), mode=Mode.PRIVATE) as cut_extrude2_sk2:
        with Locations((-5.606342554, 0)):
            Circle(SKETCH5_R)
    cut_extrude2_tool2 = extrude(cut_extrude2_sk2.sketch, amount=-CUT_EXTRUDE2_REACH, mode=Mode.PRIVATE) & part.part
    add(cut_extrude2_tool2.solids().sort_by_distance((-5.606343, 4, 0))[0], mode=Mode.SUBTRACT)
    # Sketch5 → Cut-Extrude2 (cut, up to next)
    with BuildSketch(Plane(origin=(0, 4, 0), x_dir=(1, 0, 0), z_dir=(0, 1, 0)), mode=Mode.PRIVATE) as cut_extrude2_sk3:
        with Locations((-10.106342554, 0)):
            Circle(SKETCH5_R_2)
    cut_extrude2_tool3 = extrude(cut_extrude2_sk3.sketch, amount=-CUT_EXTRUDE2_REACH, mode=Mode.PRIVATE) & part.part
    add(cut_extrude2_tool3.solids().sort_by_distance((-10.106343, 4, 0))[0], mode=Mode.SUBTRACT)


solid = part.part
